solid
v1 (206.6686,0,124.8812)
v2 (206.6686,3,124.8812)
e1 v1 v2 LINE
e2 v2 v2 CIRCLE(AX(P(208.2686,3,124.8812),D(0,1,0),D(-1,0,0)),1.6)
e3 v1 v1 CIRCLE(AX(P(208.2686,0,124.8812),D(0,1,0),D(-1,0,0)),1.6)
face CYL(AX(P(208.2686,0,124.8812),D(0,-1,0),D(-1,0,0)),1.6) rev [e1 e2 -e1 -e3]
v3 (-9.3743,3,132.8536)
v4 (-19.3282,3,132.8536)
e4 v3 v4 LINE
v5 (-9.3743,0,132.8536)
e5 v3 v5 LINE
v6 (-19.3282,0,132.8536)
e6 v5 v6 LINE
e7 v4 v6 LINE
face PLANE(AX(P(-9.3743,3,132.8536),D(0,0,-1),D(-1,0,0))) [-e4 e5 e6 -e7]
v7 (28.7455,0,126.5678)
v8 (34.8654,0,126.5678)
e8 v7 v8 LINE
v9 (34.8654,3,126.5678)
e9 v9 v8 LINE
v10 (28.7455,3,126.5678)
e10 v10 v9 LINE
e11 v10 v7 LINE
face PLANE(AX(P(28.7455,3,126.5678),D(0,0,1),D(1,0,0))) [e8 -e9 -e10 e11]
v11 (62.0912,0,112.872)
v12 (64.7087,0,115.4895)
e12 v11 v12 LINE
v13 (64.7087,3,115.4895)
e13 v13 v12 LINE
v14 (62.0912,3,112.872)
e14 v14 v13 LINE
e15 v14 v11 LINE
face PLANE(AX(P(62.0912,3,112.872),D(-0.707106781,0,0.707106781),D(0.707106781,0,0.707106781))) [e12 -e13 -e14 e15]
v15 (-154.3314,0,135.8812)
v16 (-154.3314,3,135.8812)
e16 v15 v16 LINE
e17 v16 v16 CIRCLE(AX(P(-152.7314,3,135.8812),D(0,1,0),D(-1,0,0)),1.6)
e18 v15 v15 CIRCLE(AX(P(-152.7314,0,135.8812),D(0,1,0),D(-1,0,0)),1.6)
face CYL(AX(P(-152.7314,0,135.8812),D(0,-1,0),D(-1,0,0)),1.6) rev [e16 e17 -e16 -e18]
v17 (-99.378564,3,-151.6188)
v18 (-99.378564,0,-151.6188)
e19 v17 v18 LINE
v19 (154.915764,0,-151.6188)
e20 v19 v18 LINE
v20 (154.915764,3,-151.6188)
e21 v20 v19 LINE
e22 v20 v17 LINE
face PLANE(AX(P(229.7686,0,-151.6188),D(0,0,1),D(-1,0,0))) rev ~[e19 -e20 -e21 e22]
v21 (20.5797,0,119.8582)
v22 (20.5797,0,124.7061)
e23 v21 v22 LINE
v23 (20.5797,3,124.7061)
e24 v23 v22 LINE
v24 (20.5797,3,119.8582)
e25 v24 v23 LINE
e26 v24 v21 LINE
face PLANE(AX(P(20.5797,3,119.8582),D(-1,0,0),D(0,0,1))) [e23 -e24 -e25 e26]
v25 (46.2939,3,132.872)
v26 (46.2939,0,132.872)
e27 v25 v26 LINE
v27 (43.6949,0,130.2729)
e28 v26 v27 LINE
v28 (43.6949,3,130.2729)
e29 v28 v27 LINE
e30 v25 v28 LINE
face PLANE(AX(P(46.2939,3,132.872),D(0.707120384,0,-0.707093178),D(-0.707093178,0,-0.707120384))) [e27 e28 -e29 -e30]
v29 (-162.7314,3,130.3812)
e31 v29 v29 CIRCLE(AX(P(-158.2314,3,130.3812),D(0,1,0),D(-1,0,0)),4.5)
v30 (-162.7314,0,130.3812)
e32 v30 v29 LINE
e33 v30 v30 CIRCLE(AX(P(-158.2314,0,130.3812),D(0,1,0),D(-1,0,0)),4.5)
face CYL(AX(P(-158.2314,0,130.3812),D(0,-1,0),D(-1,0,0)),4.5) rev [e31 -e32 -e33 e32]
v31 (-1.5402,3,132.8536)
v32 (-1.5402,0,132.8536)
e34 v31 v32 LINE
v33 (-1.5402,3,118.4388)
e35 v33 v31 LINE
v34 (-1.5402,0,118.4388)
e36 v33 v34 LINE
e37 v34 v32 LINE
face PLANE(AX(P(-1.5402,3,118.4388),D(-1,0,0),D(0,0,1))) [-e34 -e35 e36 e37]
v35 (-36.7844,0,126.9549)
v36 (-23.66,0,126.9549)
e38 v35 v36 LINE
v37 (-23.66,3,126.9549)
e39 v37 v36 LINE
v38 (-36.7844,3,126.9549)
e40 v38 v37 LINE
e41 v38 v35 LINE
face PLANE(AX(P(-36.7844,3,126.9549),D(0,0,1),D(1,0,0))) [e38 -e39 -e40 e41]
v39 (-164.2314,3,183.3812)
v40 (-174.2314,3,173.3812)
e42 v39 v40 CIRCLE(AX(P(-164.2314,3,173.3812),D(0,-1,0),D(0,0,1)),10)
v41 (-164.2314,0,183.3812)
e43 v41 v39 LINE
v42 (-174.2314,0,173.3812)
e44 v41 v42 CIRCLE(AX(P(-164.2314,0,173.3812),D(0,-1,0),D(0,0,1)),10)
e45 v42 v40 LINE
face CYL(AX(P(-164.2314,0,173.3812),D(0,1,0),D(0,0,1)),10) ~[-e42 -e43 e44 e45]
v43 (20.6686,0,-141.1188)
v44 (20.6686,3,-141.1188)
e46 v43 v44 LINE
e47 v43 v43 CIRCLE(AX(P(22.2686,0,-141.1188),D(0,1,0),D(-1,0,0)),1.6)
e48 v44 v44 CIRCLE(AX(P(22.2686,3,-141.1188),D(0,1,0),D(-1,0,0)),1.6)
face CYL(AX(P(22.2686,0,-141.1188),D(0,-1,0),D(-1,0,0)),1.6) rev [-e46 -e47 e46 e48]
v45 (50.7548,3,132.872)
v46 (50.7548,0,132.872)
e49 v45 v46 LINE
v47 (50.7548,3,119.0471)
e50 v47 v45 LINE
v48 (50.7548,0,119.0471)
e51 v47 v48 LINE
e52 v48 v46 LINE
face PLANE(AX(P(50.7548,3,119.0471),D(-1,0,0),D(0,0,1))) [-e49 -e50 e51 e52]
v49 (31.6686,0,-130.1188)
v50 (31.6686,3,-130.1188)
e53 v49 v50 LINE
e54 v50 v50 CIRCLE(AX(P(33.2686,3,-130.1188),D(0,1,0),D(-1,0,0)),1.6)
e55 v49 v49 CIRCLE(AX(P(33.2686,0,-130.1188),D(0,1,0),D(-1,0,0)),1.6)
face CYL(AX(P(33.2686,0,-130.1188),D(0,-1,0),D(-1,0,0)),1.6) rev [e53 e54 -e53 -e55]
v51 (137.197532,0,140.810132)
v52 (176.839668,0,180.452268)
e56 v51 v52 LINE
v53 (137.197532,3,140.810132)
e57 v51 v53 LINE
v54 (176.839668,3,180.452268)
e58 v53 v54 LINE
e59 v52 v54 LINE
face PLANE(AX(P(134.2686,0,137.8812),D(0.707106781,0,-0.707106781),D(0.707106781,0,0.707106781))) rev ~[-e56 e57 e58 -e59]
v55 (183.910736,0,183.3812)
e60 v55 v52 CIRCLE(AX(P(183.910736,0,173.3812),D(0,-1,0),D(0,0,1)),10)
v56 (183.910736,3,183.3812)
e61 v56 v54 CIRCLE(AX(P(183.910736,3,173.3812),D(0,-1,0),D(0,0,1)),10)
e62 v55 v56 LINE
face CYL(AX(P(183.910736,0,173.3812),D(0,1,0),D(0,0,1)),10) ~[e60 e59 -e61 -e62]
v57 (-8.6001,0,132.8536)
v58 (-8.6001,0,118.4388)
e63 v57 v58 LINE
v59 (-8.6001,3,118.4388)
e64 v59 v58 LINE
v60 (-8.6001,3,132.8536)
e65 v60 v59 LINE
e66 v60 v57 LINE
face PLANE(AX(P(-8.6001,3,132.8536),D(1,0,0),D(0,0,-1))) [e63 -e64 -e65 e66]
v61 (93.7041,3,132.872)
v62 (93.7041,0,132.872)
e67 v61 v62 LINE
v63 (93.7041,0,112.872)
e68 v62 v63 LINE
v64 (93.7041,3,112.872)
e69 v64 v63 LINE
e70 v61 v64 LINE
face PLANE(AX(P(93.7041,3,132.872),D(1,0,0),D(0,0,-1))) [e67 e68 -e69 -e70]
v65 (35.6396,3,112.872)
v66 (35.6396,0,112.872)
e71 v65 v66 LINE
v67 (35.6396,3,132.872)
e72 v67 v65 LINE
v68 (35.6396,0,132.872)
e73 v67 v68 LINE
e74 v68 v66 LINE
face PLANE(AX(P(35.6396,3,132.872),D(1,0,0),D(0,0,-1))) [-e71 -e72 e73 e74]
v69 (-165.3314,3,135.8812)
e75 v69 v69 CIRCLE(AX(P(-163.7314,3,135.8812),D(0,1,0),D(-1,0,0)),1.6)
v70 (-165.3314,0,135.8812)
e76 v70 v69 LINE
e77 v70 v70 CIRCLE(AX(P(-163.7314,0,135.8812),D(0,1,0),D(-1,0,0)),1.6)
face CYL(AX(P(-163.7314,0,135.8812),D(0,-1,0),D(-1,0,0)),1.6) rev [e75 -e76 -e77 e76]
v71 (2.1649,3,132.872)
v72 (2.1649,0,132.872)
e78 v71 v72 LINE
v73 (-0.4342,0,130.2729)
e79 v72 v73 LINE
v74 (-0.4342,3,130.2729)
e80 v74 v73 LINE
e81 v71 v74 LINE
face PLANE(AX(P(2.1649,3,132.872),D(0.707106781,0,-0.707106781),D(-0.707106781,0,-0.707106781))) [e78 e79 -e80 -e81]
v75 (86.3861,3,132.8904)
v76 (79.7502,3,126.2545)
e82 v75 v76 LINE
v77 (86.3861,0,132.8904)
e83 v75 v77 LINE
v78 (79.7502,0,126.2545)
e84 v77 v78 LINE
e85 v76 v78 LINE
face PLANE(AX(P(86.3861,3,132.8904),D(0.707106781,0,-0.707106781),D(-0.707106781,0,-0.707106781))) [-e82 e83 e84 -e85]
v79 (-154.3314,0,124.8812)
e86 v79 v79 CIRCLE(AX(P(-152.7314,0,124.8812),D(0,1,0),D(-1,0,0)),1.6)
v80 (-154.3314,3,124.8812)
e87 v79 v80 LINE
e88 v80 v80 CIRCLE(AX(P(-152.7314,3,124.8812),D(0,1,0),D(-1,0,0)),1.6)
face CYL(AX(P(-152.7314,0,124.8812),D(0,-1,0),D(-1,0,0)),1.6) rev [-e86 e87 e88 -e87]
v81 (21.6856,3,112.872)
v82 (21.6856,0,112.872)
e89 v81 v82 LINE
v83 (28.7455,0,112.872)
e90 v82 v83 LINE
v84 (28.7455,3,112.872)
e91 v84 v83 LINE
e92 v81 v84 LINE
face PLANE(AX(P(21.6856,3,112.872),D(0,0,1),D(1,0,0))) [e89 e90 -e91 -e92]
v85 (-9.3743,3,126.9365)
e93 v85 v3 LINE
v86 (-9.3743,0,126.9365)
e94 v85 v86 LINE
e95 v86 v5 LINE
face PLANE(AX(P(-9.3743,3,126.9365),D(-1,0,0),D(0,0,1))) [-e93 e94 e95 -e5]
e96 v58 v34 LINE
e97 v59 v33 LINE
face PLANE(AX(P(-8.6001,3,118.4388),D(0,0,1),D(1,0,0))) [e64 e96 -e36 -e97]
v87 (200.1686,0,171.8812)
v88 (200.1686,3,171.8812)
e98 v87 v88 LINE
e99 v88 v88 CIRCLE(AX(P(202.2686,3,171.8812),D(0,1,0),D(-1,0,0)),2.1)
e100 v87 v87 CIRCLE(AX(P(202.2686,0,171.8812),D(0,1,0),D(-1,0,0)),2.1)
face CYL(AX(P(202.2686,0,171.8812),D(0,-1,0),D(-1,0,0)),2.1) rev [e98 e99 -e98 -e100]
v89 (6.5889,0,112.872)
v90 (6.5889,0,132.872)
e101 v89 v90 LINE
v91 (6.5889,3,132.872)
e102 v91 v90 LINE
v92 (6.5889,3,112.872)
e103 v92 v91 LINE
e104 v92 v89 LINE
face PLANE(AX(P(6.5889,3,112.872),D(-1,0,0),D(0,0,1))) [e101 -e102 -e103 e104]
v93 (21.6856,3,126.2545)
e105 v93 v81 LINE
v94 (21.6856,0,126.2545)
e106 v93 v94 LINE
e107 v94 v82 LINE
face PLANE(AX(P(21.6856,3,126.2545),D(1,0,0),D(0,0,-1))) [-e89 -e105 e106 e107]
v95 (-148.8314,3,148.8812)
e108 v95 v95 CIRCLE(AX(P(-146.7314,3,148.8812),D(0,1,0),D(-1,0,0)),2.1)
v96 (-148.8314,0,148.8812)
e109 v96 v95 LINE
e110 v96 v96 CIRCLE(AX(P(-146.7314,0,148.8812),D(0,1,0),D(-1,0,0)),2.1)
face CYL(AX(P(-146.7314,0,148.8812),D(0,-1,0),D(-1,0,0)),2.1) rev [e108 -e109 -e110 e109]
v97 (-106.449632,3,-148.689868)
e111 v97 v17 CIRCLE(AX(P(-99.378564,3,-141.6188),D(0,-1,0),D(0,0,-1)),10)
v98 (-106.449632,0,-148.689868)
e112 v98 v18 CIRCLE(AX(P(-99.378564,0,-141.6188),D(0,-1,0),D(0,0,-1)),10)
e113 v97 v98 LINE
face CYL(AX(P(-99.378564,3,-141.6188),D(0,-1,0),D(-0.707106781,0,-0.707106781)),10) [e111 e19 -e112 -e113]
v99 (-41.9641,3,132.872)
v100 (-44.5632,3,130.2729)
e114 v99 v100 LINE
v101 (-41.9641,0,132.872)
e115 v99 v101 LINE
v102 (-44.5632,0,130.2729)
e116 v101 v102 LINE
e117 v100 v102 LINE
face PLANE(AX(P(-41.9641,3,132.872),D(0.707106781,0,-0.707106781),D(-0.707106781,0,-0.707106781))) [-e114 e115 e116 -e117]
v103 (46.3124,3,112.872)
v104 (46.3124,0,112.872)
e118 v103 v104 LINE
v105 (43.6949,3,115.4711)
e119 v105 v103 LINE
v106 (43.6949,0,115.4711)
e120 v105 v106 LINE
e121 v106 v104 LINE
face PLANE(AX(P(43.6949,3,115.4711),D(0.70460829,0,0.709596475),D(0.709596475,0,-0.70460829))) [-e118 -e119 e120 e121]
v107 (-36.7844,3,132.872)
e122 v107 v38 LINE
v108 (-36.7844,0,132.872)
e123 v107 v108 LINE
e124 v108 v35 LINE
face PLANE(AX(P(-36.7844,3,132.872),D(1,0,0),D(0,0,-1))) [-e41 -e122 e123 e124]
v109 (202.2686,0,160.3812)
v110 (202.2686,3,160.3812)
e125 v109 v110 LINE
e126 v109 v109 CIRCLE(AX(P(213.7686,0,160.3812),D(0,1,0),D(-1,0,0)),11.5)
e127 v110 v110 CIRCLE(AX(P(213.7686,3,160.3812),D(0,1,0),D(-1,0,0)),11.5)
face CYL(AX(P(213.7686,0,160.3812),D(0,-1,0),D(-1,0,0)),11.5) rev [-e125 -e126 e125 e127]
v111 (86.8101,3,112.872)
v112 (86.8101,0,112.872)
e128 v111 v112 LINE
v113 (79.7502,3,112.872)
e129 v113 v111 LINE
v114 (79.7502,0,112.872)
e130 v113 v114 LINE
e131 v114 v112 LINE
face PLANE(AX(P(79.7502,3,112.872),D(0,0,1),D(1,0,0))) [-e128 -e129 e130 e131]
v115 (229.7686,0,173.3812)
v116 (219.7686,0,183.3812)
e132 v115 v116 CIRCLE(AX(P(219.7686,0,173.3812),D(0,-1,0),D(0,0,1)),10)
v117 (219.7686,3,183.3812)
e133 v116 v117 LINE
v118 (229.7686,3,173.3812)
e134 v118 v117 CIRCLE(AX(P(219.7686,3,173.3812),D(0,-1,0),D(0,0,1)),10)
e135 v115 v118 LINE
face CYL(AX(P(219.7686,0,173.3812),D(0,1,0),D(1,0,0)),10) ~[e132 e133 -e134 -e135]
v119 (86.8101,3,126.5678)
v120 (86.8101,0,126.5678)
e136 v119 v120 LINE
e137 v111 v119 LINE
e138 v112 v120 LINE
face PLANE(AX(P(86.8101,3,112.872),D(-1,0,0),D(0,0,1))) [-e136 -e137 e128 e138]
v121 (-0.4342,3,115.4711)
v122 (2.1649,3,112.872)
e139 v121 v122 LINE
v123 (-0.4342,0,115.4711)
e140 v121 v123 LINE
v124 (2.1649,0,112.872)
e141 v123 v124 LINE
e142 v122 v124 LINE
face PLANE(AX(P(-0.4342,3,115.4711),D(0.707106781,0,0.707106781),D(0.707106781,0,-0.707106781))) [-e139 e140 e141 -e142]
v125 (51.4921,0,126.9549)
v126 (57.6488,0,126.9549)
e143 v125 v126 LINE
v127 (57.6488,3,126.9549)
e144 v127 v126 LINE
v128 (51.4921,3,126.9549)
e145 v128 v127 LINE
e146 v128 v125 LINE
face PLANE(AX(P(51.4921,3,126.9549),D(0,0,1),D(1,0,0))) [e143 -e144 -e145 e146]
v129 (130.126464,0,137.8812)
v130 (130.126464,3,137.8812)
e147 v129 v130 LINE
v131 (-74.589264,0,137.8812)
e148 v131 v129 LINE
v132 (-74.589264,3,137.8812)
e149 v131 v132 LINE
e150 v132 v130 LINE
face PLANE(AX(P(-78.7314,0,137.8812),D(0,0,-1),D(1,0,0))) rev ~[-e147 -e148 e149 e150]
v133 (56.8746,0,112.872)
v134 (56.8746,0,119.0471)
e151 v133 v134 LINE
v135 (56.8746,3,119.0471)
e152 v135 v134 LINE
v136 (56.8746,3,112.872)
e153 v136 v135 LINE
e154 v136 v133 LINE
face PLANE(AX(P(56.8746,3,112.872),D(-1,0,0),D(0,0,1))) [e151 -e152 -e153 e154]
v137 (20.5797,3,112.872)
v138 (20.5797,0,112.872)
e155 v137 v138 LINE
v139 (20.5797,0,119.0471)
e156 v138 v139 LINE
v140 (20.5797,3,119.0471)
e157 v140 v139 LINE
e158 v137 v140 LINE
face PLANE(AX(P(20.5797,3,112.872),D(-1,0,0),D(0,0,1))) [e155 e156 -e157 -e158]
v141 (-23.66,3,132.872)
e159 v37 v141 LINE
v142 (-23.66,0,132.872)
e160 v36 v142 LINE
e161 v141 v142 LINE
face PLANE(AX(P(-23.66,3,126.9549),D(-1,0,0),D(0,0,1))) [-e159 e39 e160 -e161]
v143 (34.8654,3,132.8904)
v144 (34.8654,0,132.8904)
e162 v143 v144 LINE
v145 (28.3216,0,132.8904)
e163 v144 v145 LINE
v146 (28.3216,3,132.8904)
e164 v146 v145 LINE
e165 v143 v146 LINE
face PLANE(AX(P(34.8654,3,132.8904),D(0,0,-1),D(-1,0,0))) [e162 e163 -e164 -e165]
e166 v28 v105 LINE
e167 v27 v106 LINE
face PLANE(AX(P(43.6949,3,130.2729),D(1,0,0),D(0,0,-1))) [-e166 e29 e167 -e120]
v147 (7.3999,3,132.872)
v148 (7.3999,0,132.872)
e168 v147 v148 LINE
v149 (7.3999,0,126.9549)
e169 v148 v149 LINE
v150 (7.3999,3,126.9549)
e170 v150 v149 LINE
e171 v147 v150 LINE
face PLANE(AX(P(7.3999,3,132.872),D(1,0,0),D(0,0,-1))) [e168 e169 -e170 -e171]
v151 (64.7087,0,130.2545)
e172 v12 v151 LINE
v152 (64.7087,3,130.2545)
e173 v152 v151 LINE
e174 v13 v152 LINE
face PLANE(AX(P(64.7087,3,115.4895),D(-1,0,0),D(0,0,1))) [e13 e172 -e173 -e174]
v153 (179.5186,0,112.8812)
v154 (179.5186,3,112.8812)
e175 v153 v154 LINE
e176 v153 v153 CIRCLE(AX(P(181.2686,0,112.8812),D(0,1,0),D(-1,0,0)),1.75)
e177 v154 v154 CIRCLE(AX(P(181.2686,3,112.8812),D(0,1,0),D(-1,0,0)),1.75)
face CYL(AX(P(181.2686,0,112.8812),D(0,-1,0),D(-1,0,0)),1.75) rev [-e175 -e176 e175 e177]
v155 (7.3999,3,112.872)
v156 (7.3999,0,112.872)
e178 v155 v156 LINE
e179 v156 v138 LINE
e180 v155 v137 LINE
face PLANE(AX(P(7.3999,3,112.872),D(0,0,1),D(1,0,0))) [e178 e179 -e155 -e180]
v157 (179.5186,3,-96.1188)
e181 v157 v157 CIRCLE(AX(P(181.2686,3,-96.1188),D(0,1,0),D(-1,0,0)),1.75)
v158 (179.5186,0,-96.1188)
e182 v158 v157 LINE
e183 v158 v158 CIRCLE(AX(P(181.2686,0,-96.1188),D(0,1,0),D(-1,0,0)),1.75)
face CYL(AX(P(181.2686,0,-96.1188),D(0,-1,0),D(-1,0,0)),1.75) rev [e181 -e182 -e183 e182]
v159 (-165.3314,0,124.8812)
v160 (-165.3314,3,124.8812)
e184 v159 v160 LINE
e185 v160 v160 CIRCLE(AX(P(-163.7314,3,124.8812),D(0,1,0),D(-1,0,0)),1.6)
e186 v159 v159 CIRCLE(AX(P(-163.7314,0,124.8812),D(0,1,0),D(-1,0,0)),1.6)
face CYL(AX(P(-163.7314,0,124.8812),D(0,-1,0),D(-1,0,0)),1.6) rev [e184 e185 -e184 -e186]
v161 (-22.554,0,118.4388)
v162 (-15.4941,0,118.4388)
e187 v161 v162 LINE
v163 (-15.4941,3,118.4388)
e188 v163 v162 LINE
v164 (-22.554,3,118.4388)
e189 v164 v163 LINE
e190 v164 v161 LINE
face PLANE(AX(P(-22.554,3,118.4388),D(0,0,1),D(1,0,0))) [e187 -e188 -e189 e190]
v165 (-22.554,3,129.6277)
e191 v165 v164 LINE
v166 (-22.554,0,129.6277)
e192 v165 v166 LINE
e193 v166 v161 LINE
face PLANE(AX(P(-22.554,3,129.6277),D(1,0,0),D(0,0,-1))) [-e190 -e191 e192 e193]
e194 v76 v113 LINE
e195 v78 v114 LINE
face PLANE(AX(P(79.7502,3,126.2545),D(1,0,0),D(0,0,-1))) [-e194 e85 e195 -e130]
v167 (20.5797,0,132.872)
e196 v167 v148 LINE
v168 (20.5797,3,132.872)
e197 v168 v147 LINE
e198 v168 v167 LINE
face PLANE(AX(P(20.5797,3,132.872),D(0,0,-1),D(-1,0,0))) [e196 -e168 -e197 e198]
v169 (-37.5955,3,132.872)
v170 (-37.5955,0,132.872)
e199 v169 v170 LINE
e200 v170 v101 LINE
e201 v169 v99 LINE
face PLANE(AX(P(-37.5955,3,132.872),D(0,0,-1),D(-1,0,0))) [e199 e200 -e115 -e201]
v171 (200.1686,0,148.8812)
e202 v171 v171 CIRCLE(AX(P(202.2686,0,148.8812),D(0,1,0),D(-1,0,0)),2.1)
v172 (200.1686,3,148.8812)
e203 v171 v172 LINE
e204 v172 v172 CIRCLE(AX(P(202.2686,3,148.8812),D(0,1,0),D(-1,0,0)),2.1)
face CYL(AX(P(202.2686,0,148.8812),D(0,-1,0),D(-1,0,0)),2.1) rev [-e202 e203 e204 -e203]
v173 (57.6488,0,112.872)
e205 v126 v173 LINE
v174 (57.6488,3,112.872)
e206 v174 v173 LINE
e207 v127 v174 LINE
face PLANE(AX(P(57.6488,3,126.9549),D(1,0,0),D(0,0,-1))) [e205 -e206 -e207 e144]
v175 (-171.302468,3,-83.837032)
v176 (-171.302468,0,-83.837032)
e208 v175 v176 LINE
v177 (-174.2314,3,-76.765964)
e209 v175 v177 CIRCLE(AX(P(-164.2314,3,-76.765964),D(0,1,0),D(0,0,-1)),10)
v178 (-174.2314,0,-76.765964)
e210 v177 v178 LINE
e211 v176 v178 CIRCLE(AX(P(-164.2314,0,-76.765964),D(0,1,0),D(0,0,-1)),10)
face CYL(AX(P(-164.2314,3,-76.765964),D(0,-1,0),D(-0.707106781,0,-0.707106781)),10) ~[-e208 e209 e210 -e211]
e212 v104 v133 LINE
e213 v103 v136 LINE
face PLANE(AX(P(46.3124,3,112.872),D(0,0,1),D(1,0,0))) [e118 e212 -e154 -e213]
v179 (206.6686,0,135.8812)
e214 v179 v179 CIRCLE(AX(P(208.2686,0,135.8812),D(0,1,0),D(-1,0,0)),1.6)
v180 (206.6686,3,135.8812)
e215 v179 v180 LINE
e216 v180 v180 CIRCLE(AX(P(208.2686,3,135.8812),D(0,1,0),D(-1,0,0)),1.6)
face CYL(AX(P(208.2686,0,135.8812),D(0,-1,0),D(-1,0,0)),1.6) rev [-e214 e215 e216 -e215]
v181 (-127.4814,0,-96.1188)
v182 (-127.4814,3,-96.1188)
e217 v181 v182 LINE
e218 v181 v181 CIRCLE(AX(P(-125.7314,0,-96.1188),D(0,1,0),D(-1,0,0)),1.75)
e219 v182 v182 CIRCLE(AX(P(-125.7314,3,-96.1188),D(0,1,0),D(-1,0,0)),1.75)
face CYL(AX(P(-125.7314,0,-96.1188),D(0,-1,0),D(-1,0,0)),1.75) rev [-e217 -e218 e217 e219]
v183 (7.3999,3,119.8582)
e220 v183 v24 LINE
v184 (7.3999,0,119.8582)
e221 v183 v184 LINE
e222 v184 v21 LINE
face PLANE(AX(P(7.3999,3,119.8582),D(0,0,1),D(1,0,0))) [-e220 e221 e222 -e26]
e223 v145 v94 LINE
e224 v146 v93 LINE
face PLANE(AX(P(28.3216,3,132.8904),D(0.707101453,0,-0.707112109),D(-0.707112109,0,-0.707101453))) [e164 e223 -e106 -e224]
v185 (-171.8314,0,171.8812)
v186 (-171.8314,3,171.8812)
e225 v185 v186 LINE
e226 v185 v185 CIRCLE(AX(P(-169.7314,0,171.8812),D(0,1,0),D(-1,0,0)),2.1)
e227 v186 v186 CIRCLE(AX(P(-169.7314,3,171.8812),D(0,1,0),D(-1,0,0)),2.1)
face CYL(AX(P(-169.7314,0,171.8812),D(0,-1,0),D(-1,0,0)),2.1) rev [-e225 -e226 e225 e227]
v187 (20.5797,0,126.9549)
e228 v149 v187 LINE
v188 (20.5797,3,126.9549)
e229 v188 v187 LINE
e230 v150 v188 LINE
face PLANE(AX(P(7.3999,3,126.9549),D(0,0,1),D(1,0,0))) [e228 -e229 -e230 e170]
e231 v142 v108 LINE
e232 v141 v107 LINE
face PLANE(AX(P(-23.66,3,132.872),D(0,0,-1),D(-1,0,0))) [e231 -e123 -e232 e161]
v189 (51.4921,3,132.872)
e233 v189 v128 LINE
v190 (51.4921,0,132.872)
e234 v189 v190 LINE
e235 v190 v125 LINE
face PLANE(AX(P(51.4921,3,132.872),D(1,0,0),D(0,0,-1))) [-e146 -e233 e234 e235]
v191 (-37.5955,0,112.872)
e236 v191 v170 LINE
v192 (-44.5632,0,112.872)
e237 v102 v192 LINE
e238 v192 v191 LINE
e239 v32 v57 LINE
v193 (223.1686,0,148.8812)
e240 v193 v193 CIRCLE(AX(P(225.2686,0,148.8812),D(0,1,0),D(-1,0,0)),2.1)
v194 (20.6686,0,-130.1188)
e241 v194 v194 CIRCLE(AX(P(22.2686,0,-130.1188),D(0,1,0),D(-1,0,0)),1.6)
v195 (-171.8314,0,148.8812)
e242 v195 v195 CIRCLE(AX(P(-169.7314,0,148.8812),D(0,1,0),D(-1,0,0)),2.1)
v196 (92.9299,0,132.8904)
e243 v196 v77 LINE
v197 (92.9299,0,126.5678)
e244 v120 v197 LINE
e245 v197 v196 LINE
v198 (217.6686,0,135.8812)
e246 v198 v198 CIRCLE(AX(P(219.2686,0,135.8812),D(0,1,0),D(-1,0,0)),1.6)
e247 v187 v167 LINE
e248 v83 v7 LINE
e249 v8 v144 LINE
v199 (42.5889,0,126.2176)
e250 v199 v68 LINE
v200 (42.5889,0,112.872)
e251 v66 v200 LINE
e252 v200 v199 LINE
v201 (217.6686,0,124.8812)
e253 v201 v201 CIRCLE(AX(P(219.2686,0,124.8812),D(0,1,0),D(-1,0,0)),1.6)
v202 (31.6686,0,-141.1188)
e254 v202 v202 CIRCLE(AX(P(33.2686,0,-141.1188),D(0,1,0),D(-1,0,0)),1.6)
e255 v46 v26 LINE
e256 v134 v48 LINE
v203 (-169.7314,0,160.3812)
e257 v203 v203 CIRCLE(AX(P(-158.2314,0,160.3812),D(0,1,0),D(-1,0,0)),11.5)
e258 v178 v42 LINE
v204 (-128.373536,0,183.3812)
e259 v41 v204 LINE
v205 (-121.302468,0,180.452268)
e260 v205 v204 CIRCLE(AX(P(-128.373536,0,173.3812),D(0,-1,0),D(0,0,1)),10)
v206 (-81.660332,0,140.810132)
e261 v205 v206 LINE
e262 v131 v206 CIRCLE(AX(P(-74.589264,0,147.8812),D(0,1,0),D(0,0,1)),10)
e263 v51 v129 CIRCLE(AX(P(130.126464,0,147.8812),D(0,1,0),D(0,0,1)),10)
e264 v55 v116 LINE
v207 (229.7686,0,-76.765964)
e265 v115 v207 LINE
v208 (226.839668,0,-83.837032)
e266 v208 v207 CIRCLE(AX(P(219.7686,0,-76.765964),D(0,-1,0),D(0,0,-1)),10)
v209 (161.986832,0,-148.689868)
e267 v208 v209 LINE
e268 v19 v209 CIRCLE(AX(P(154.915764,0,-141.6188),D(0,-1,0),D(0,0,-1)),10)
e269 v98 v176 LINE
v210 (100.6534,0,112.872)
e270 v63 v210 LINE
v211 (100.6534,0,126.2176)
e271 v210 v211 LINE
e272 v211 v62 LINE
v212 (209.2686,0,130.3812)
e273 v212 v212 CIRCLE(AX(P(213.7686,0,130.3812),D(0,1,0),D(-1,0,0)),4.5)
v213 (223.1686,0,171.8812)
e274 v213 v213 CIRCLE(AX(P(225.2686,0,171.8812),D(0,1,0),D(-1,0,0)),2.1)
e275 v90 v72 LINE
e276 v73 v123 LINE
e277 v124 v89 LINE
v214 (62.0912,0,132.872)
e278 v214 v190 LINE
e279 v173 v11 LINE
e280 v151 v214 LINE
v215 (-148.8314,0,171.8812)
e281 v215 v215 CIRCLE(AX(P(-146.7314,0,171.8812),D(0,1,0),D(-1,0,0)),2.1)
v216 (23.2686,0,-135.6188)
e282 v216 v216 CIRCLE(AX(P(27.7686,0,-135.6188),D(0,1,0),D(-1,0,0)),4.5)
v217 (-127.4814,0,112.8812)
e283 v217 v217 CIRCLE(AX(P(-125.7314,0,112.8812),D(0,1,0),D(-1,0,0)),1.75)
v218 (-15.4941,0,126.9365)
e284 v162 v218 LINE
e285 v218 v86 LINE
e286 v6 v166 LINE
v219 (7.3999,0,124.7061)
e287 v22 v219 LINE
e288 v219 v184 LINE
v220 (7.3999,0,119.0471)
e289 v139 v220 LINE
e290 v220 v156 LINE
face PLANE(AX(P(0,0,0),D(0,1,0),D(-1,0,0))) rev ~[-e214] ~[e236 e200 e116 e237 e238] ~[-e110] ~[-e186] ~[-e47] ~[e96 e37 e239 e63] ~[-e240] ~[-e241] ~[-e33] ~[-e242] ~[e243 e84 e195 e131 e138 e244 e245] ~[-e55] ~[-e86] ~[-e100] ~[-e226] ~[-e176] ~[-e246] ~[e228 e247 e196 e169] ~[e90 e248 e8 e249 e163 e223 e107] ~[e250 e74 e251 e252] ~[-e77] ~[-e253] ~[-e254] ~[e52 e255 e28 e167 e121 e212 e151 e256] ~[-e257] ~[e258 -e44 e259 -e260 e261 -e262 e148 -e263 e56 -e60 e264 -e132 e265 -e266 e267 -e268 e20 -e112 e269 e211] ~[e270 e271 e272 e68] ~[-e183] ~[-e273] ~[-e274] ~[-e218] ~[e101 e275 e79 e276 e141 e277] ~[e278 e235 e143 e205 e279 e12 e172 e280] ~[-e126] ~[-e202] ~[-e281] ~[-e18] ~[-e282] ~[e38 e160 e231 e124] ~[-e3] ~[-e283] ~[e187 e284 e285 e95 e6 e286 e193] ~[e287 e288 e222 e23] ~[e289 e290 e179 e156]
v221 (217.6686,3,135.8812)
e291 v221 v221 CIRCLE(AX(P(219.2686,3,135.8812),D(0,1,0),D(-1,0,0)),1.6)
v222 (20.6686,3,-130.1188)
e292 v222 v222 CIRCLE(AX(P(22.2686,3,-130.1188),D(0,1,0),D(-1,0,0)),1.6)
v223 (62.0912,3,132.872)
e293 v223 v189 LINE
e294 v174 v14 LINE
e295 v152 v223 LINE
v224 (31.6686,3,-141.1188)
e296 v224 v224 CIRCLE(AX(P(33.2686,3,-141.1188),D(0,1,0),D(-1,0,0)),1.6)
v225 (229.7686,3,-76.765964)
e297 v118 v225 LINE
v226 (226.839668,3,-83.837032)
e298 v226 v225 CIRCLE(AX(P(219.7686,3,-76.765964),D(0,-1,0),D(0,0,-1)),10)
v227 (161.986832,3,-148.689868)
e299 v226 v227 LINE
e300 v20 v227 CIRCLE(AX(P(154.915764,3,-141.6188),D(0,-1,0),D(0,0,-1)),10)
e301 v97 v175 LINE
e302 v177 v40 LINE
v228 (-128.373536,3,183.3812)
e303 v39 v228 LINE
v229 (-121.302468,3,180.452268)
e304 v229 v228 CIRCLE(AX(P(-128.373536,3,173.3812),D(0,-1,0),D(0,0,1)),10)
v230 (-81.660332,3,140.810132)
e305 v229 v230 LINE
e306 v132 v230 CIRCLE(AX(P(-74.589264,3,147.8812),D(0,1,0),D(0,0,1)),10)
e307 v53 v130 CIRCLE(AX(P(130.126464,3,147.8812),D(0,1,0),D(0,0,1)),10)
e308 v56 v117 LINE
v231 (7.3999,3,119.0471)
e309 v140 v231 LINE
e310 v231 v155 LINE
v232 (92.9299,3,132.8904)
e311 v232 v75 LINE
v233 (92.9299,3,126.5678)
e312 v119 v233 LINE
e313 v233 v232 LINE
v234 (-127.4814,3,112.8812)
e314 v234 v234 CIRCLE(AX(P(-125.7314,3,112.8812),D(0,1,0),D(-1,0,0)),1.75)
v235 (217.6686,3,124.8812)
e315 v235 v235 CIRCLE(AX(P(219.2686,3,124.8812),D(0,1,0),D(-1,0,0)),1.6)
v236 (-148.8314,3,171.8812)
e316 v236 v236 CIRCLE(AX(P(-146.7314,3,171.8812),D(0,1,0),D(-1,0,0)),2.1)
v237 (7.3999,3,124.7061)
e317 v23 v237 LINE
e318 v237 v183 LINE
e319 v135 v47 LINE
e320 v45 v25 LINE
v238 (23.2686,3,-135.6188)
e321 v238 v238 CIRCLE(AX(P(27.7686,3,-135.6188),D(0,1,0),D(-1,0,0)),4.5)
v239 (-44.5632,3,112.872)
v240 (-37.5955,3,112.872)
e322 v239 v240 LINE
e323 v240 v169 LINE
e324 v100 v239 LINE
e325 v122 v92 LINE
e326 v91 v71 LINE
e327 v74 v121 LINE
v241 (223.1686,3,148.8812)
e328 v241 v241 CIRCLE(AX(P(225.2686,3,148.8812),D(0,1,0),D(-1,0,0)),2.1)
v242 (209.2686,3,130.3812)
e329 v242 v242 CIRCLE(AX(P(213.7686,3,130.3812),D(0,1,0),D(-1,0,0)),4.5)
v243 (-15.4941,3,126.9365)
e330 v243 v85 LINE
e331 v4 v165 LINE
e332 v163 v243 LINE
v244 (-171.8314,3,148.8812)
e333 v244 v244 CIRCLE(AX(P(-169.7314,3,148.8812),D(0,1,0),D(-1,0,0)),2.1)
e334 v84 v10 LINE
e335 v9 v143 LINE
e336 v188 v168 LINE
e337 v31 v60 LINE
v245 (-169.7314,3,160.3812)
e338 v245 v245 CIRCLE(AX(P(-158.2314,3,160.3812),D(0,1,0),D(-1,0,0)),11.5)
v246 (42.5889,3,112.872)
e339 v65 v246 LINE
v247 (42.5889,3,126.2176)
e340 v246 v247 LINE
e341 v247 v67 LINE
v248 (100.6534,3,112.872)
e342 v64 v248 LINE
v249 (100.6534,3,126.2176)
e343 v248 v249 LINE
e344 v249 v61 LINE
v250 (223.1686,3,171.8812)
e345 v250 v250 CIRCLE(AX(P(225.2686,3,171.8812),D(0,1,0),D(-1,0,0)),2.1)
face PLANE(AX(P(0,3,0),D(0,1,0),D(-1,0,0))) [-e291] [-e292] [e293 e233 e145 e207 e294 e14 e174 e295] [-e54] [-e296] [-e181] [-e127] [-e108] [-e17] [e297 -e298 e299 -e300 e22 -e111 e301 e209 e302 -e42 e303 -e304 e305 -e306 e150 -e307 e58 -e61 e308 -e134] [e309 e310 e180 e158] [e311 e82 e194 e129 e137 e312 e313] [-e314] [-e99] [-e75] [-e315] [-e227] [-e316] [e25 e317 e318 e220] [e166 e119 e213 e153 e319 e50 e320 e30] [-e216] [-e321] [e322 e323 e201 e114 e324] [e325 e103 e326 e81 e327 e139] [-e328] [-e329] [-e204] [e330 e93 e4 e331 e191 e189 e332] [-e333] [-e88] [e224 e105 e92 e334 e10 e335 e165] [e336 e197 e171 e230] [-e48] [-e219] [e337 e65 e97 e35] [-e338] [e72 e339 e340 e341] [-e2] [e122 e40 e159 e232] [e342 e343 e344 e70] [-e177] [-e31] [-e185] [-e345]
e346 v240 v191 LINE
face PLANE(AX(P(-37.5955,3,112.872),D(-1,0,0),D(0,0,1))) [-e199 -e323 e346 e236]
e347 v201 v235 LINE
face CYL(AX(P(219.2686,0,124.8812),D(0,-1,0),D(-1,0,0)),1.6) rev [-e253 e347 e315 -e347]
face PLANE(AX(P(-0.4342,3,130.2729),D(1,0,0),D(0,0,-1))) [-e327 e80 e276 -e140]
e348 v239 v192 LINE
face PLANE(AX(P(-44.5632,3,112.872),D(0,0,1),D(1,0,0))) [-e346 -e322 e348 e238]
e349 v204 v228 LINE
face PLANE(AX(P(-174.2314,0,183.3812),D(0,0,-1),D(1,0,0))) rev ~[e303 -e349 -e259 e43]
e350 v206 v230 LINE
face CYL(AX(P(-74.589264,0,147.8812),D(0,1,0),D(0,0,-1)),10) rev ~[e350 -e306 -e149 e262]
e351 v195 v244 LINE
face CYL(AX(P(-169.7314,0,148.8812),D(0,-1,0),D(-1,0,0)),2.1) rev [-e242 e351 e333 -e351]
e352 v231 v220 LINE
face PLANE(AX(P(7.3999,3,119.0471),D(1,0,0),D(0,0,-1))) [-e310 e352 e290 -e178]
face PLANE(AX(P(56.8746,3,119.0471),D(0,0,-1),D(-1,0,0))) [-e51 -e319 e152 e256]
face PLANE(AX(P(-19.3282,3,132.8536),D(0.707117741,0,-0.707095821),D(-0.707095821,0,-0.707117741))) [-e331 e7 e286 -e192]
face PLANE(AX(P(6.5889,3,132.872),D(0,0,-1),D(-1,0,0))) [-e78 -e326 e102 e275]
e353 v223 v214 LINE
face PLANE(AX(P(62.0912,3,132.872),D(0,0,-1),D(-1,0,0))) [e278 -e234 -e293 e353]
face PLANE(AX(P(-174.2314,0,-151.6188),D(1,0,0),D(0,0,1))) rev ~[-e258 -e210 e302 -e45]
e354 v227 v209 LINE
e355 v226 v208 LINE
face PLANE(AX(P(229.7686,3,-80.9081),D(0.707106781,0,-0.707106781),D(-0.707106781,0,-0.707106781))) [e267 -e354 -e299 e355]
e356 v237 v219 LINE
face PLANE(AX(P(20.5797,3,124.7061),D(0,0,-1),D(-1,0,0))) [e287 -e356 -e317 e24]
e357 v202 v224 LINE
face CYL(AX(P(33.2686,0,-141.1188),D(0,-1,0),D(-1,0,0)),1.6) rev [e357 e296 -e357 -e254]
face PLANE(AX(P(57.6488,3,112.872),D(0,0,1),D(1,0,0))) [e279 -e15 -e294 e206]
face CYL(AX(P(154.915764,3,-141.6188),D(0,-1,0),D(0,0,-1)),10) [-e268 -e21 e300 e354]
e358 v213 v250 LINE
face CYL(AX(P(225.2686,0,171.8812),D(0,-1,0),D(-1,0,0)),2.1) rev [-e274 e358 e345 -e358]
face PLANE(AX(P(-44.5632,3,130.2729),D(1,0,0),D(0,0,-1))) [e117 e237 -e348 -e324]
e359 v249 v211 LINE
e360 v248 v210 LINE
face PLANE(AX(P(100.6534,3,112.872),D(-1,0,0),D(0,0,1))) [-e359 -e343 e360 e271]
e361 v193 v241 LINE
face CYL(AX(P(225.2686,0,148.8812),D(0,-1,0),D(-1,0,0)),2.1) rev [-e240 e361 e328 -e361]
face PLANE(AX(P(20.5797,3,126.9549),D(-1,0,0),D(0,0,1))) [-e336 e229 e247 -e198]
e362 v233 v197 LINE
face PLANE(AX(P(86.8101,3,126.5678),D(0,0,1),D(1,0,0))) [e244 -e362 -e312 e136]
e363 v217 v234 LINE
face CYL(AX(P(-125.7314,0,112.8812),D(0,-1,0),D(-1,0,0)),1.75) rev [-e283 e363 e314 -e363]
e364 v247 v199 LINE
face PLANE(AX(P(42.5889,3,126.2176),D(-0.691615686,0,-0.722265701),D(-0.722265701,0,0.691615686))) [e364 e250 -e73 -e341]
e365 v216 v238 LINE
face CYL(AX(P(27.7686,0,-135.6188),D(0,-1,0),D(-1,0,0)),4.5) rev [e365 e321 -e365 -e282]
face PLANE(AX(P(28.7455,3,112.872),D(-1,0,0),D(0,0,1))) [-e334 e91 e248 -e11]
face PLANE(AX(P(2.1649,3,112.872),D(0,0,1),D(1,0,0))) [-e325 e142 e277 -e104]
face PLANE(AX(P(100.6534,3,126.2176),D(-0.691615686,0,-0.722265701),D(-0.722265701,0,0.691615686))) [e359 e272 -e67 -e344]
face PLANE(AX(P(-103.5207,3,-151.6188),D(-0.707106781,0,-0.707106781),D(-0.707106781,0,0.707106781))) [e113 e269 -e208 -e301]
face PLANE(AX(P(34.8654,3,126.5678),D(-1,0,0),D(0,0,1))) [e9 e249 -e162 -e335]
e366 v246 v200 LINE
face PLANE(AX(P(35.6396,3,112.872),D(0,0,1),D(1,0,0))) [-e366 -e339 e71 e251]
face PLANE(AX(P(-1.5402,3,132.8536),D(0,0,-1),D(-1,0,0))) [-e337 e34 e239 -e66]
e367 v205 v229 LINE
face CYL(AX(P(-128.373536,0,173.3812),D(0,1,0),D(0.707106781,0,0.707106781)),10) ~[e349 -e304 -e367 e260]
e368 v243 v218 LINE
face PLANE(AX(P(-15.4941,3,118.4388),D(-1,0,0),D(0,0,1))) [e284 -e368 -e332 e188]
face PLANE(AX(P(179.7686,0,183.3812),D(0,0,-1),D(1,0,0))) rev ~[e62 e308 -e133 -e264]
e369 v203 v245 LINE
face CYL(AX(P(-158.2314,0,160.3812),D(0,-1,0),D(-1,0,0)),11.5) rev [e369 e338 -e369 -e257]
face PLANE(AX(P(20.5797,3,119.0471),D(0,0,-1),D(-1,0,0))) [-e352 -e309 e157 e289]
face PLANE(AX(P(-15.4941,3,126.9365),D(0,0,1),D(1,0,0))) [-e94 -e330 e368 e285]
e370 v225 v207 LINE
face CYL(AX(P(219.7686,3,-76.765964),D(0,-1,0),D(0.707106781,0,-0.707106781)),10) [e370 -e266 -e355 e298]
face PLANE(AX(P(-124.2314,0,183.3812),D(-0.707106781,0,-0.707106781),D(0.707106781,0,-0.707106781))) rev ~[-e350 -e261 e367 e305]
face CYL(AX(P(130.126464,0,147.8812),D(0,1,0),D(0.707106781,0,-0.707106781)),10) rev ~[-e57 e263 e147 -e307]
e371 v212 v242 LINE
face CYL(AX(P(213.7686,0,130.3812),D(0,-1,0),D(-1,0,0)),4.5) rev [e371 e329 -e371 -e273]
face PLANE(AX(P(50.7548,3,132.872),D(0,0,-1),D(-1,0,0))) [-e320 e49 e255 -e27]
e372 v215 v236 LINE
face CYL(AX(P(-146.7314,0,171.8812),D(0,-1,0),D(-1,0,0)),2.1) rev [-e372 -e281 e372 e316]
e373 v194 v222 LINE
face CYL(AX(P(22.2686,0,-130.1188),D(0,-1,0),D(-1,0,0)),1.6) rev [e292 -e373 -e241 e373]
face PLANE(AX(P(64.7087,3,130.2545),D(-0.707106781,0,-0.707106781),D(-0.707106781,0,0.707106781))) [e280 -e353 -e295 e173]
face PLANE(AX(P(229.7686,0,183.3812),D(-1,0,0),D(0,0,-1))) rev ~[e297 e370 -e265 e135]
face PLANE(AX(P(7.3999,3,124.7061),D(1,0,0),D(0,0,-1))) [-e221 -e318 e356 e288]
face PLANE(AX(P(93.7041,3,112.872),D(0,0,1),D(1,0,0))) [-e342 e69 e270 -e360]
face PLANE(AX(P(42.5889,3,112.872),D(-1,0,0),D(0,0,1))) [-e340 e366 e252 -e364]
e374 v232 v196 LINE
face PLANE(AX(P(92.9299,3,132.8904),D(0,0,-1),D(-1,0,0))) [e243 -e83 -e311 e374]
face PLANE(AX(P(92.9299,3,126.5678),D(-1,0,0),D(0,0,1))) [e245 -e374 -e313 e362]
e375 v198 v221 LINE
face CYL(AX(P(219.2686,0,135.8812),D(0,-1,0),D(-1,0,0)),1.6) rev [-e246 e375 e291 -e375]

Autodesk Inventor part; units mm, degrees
ref_plane "YZ Plane" through (0, 0, 0) normal (1, 0, 0) x (0, 1, 0)
ref_plane "XZ Plane" through (0, 0, 0) normal (0, 1, 0) x (-1, 0, 0)
ref_plane "XY Plane" through (0, 0, 0) normal (0, 0, 1) x (1, 0, 0)
sketch "Sketch1" plane through (0, 0, 0) normal (0, 1, 0) x (-1, 0, 0)
  circle A0 centre (158.2314, 130.3812) radius 11.25 projected
  circle A1 centre (158.2314, 160.3812) radius 6 projected
  circle A2 centre (-213.7686, 130.3812) radius 11.25 projected
  circle A3 centre (-213.7686, 160.3812) radius 6 projected
  circle A4 centre (-27.7686, -135.6188) radius 11 projected
  circle A5 centre (125.7314, 112.8812) radius 1.75
  circle A6 centre (125.7314, -96.1188) radius 1.75
  circle A7 centre (-181.2686, -96.1188) radius 1.75
  circle A8 centre (-181.2686, 112.8812) radius 1.75
  line L0 (222.2314, 188.3812) -> (-277.7686, 188.3812) projected
  line L1 (222.2314, -171.6188) -> (-277.7686, -171.6188) projected
  line L2 (174.2314, 183.3812) -> (124.2314, 183.3812)
  line L3 (124.2314, 183.3812) -> (78.7314, 137.8812)
  line L4 (78.7314, 137.8812) -> (-134.2686, 137.8812)
  line L5 (-134.2686, 137.8812) -> (-179.7686, 183.3812)
  line L6 (-179.7686, 183.3812) -> (-229.7686, 183.3812)
  line L7 (-229.7686, 183.3812) -> (-229.7686, -151.6188)
  line L8 (-229.7686, -151.6188) -> (174.2314, -151.6188)
  line L9 (174.2314, -151.6188) -> (174.2314, 183.3812)
  line L10 (222.2314, -171.6188) -> (222.2314, 188.3812) projected
  line L11 (-277.7686, 188.3812) -> (-277.7686, -171.6188) projected
  circle A9 centre (-213.7686, 160.3812) radius 11.5
  circle A10 centre (-225.2686, 171.8812) radius 2.1
  circle A11 centre (-202.2686, 171.8812) radius 2.1
  circle A12 centre (-202.2686, 148.8812) radius 2.1
  circle A13 centre (-225.2686, 148.8812) radius 2.1
  circle A14 centre (158.2314, 160.3812) radius 11.5
  circle A15 centre (146.7314, 171.8812) radius 2.1
  circle A16 centre (169.7314, 171.8812) radius 2.1
  circle A17 centre (169.7314, 148.8812) radius 2.1
  circle A18 centre (146.7314, 148.8812) radius 2.1
  circle A19 centre (-213.7686, 130.3812) radius 4.5
  circle A20 centre (-219.2686, 124.8812) radius 1.6
  circle A21 centre (-219.2686, 135.8812) radius 1.6
  circle A22 centre (-208.2686, 135.8812) radius 1.6
  circle A23 centre (-208.2686, 124.8812) radius 1.6
  circle A24 centre (158.2314, 130.3812) radius 4.5
  circle A25 centre (152.7314, 135.8812) radius 1.6
  circle A26 centre (163.7314, 135.8812) radius 1.6
  circle A27 centre (163.7314, 124.8812) radius 1.6
  circle A28 centre (152.7314, 124.8812) radius 1.6
  circle A29 centre (-27.7686, -135.6188) radius 4.5
  circle A30 centre (-33.2686, -130.1188) radius 1.6
  circle A31 centre (-22.2686, -130.1188) radius 1.6
  circle A32 centre (-22.2686, -141.1188) radius 1.6
  circle A33 centre (-33.2686, -141.1188) radius 1.6
  point P0 (0, 0)
  point P1 (149.2314, 183.3812)
  dimension "d0" = 307
  dimension "d1" = 209
  dimension "d2" = 3.5
  dimension "d3" = 153.5
  dimension "d4" = 360
  dimension "d5" = 75.5
  dimension "d6" = 5
  dimension "d7" = 48
  dimension "d8" = 20
  dimension "d9" = 48
  dimension "d10" = 5
  dimension "d12" = 45
  dimension "d13" = 50
  dimension "d14" = 45
  dimension "d15" = 25
  dimension "d18" = 23
  dimension "d19" = 11.5
  dimension "d20" = 11.5
  dimension "d21" = 11.5
  dimension "d22" = 11.5
  dimension "d23" = 4.2
  dimension "d24" = 11.5
  dimension "d25" = 11.5
  dimension "d26" = 11.5
  dimension "d27" = 11.5
  dimension "d28" = 9
  dimension "d29" = 5.5
  dimension "d30" = 5.5
  dimension "d31" = 5.5
  dimension "d32" = 5.5
  dimension "d33" = 3.2
  dimension "d35" = 5.5
  dimension "d36" = 5.5
  dimension "d37" = 5.5
  dimension "d39" = 5.5
  dimension "d40" = 5.5
  dimension "d41" = 5.5
  dimension "d42" = 5.5
  dimension "d43" = 5.5
extrude "Extrusion1" add sketch "Sketch1" along normal blind 3 contours A0 | A2 | A4 | L9 L8 L7 L6 L5 L4 L3 L2
sketch "Sketch2" plane through (0, 3, 0) normal (0, 1, 0) x (1, 0, 0)
  line L0 (-124.2314, -183.3812) -> (-78.7314, -137.8812) projected
  line L1 (-78.7314, -137.8812) -> (134.2686, -137.8812) projected
  line L2 (134.2686, -137.8812) -> (179.7686, -183.3812) projected
  line L3 (179.7686, -183.3812) -> (229.7686, -183.3812) projected
  line L4 (229.7686, -183.3812) -> (229.7686, 151.6188) projected
  line L5 (229.7686, 151.6188) -> (-174.2314, 151.6188) projected
  line L6 (-174.2314, 151.6188) -> (-174.2314, -183.3812) projected
  line L7 (-174.2314, -183.3812) -> (-124.2314, -183.3812) projected
  circle A0 centre (-158.2314, -130.3812) radius 4.5 projected
  circle A1 centre (-152.7314, -135.8812) radius 1.6 projected
  circle A2 centre (-163.7314, -135.8812) radius 1.6 projected
  circle A3 centre (-163.7314, -124.8812) radius 1.6 projected
  circle A4 centre (-152.7314, -124.8812) radius 1.6 projected
  circle A5 centre (213.7686, -130.3812) radius 4.5 projected
  circle A6 centre (219.2686, -124.8812) radius 1.6 projected
  circle A7 centre (219.2686, -135.8812) radius 1.6 projected
  circle A8 centre (208.2686, -135.8812) radius 1.6 projected
  circle A9 centre (208.2686, -124.8812) radius 1.6 projected
  circle A10 centre (27.7686, 135.6188) radius 4.5 projected
  circle A11 centre (33.2686, 130.1188) radius 1.6 projected
  circle A12 centre (22.2686, 130.1188) radius 1.6 projected
  circle A13 centre (22.2686, 141.1188) radius 1.6 projected
  circle A14 centre (33.2686, 141.1188) radius 1.6 projected
  circle A15 centre (-125.7314, -112.8812) radius 1.75 projected
  circle A16 centre (-125.7314, 96.1188) radius 1.75 projected
  circle A17 centre (181.2686, 96.1188) radius 1.75 projected
  circle A18 centre (181.2686, -112.8812) radius 1.75 projected
  circle A19 centre (-146.7314, -148.8812) radius 2.1 projected
  circle A20 centre (-169.7314, -148.8812) radius 2.1 projected
  circle A21 centre (-169.7314, -171.8812) radius 2.1 projected
  circle A22 centre (-146.7314, -171.8812) radius 2.1 projected
  circle A23 centre (-158.2314, -160.3812) radius 11.5 projected
  circle A24 centre (225.2686, -148.8812) radius 2.1 projected
  circle A25 centre (202.2686, -148.8812) radius 2.1 projected
  circle A26 centre (202.2686, -171.8812) radius 2.1 projected
  circle A27 centre (225.2686, -171.8812) radius 2.1 projected
  circle A28 centre (213.7686, -160.3812) radius 11.5 projected
  line L8 (-71.2064, -116.1262) -> (126.7436, -116.1262) construction
  line L9 (126.7436, -116.1262) -> (126.7436, -129.6362) construction
  line L10 (126.7436, -129.6362) -> (-71.2064, -129.6362) construction
  line L11 (-71.2064, -129.6362) -> (-71.2064, -116.1262) construction
  line L12 (-41.9641, -132.872) -> (-44.5632, -130.2729)
  line L13 (-44.5632, -130.2729) -> (-44.5632, -112.872)
  line L14 (-44.5632, -112.872) -> (-37.5955, -112.872)
  line L15 (-37.5955, -112.872) -> (-37.5955, -132.872)
  line L16 (-37.5955, -132.872) -> (-41.9641, -132.872)
  line L17 (-36.7844, -132.872) -> (-36.7844, -126.9549)
  line L18 (-36.7844, -126.9549) -> (-23.66, -126.9549)
  line L19 (-23.66, -126.9549) -> (-23.66, -132.872)
  line L20 (-23.66, -132.872) -> (-36.7844, -132.872)
  line L21 (-9.3743, -132.8536) -> (-19.3282, -132.8536)
  line L22 (-19.3282, -132.8536) -> (-22.554, -129.6277)
  line L23 (-22.554, -129.6277) -> (-22.554, -118.4388)
  line L24 (-22.554, -118.4388) -> (-15.4941, -118.4388)
  line L25 (-15.4941, -118.4388) -> (-15.4941, -126.9365)
  line L26 (-15.4941, -126.9365) -> (-9.3743, -126.9365)
  line L27 (-9.3743, -126.9365) -> (-9.3743, -132.8536)
  line L28 (-1.5402, -132.8536) -> (-8.6001, -132.8536)
  line L29 (-8.6001, -132.8536) -> (-8.6001, -118.4388)
  line L30 (-8.6001, -118.4388) -> (-1.5402, -118.4388)
  line L31 (-1.5402, -118.4388) -> (-1.5402, -132.8536)
  line L32 (6.5889, -132.872) -> (2.1649, -132.872)
  line L33 (2.1649, -132.872) -> (-0.4342, -130.2729)
  line L34 (-0.4342, -130.2729) -> (-0.4342, -115.4711)
  line L35 (-0.4342, -115.4711) -> (2.1649, -112.872)
  line L36 (2.1649, -112.872) -> (6.5889, -112.872)
  line L37 (6.5889, -112.872) -> (6.5889, -132.872)
  line L38 (20.5797, -119.0471) -> (7.3999, -119.0471)
  line L39 (7.3999, -119.0471) -> (7.3999, -112.872)
  line L40 (7.3999, -112.872) -> (20.5797, -112.872)
  line L41 (20.5797, -112.872) -> (20.5797, -119.0471)
  line L42 (20.5797, -132.872) -> (7.3999, -132.872)
  line L43 (7.3999, -132.872) -> (7.3999, -126.9549)
  line L44 (7.3999, -126.9549) -> (20.5797, -126.9549)
  line L45 (20.5797, -126.9549) -> (20.5797, -132.872)
  line L46 (20.5797, -124.7061) -> (7.3999, -124.7061)
  line L47 (7.3999, -124.7061) -> (7.3999, -119.8582)
  line L48 (7.3999, -119.8582) -> (20.5797, -119.8582)
  line L49 (20.5797, -119.8582) -> (20.5797, -124.7061)
  line L50 (34.8654, -132.8904) -> (28.3216, -132.8904)
  line L51 (28.3216, -132.8904) -> (21.6856, -126.2545)
  line L52 (21.6856, -126.2545) -> (21.6856, -112.872)
  line L53 (21.6856, -112.872) -> (28.7455, -112.872)
  line L54 (28.7455, -112.872) -> (28.7455, -126.5678)
  line L55 (28.7455, -126.5678) -> (34.8654, -126.5678)
  line L56 (34.8654, -126.5678) -> (34.8654, -132.8904)
  line L57 (35.6396, -132.872) -> (35.6396, -112.872)
  line L58 (35.6396, -112.872) -> (42.5889, -112.872)
  line L59 (42.5889, -112.872) -> (42.5889, -126.2176)
  line L60 (42.5889, -126.2176) -> (35.6396, -132.872)
  line L61 (50.7548, -132.872) -> (46.2939, -132.872)
  line L62 (46.2939, -132.872) -> (43.6949, -130.2729)
  line L63 (43.6949, -130.2729) -> (43.6949, -115.4711)
  line L64 (43.6949, -115.4711) -> (46.3124, -112.872)
  line L65 (46.3124, -112.872) -> (56.8746, -112.872)
  line L66 (56.8746, -112.872) -> (56.8746, -119.0471)
  line L67 (56.8746, -119.0471) -> (50.7548, -119.0471)
  line L68 (50.7548, -119.0471) -> (50.7548, -132.872)
  line L69 (64.7087, -130.2545) -> (62.0912, -132.872)
  line L70 (62.0912, -132.872) -> (51.4921, -132.872)
  line L71 (51.4921, -132.872) -> (51.4921, -126.9549)
  line L72 (51.4921, -126.9549) -> (57.6488, -126.9549)
  line L73 (57.6488, -126.9549) -> (57.6488, -112.872)
  line L74 (57.6488, -112.872) -> (62.0912, -112.872)
  line L75 (62.0912, -112.872) -> (64.7087, -115.4895)
  line L76 (64.7087, -115.4895) -> (64.7087, -130.2545)
  line L77 (92.9299, -132.8904) -> (86.3861, -132.8904)
  line L78 (86.3861, -132.8904) -> (79.7502, -126.2545)
  line L79 (79.7502, -126.2545) -> (79.7502, -112.872)
  line L80 (79.7502, -112.872) -> (86.8101, -112.872)
  line L81 (86.8101, -112.872) -> (86.8101, -126.5678)
  line L82 (86.8101, -126.5678) -> (92.9299, -126.5678)
  line L83 (92.9299, -126.5678) -> (92.9299, -132.8904)
  line L84 (93.7041, -132.872) -> (93.7041, -112.872)
  line L85 (93.7041, -112.872) -> (100.6534, -112.872)
  line L86 (100.6534, -112.872) -> (100.6534, -126.2176)
  line L87 (100.6534, -126.2176) -> (93.7041, -132.872)
  point P0 (0, 0)
  point P1 (27.7686, -116.1262)
  point P2 (-71.2064, -122.8812)
  dimension "d44" = 15
extrude "Extrusion2" cut sketch "Sketch2" against normal through all contours L12 L13 L14 L15 L16 | L17 L18 L19 L20 | L21 L22 L23 L24 L25 L26 L27 | L28 L29 L30 L31 | L32 L33 L34 L35 L36 L37 | L38 L39 L40 L41 | L42 L43 L44 L45 | L46 L47 L48 L49 | L50 L51 L52 L53 L54 L55 L56 | L57 L58 L59 L60 | L61 L62 L63 L64 L65 L66 L67 L68 | L69 L70 L71 L72 L73 L74 L75 L76 | L77 L78 L79 L80 L81 L82 L83 | L84 L85 L86 L87
sketch "Sketch3" plane through (0, 3, 0) normal (0, 1, 0) x (1, 0, 0)
  line L0 (134.2686, -137.8812) -> (179.7686, -183.3812) projected
  line L1 (229.7686, -183.3812) -> (229.7686, 151.6188) projected
  line L2 (229.7686, 151.6188) -> (-174.2314, 151.6188) projected
  line L3 (-174.2314, 151.6188) -> (-174.2314, -183.3812) projected
  line L4 (-124.2314, -183.3812) -> (-78.7314, -137.8812) projected
  line L5 (-103.5207, 151.6188) -> (-174.2314, 80.9081)
  line L6 (-174.2314, 151.6188) -> (-174.2314, -183.3812) projected
  line L7 (229.7686, 80.9081) -> (159.0579, 151.6188)
  point P0 (0, 0)
  point P1 (-174.2314, 80.9081)
  dimension "d47" = 100
extrude "Extrusion3" cut sketch "Sketch3" against normal through all
fillet "Fillet1" radius 10 10 edges at (-174.2314, 1.5, 183.3812) (-124.2314, 1.5, 183.3812) (229.7686, 1.5, 183.3812) (179.7686, 1.5, 183.3812) (134.2686, 1.5, 137.8812) (229.7686, 1.5, -80.9081) (159.0579, 1.5, -151.6188) (-103.5207, 1.5, -151.6188) (-174.2314, 1.5, -80.9081) (-78.7314, 1.5, 137.8812)
equation "\"d3\" = 0.5 * d0"
equation "\"d5\" = 0.5 * d4 - 0.5 * d1"
equation "\"d9\" = d7"
equation "\"d10\" = d6"
equation "\"d14\" = d12"
equation "\"d20\" = d19"
equation "\"d21\" = d19"
equation "\"d22\" = d19"
equation "\"d24\" = d19"
equation "\"d25\" = d24"
equation "\"d26\" = d24"
equation "\"d27\" = d26"
equation "\"d30\" = d29"
equation "\"d31\" = d30"
equation "\"d32\" = d29"
equation "\"d35\" = d29"
equation "\"d36\" = d35"
equation "\"d37\" = d36"
equation "\"d39\" = d35"
equation "\"d40\" = d35"
equation "\"d41\" = d40"
equation "\"d42\" = d40"
equation "\"d43\" = d42"
properties part number "Z Axis Base" material "Aluminum 6061"
